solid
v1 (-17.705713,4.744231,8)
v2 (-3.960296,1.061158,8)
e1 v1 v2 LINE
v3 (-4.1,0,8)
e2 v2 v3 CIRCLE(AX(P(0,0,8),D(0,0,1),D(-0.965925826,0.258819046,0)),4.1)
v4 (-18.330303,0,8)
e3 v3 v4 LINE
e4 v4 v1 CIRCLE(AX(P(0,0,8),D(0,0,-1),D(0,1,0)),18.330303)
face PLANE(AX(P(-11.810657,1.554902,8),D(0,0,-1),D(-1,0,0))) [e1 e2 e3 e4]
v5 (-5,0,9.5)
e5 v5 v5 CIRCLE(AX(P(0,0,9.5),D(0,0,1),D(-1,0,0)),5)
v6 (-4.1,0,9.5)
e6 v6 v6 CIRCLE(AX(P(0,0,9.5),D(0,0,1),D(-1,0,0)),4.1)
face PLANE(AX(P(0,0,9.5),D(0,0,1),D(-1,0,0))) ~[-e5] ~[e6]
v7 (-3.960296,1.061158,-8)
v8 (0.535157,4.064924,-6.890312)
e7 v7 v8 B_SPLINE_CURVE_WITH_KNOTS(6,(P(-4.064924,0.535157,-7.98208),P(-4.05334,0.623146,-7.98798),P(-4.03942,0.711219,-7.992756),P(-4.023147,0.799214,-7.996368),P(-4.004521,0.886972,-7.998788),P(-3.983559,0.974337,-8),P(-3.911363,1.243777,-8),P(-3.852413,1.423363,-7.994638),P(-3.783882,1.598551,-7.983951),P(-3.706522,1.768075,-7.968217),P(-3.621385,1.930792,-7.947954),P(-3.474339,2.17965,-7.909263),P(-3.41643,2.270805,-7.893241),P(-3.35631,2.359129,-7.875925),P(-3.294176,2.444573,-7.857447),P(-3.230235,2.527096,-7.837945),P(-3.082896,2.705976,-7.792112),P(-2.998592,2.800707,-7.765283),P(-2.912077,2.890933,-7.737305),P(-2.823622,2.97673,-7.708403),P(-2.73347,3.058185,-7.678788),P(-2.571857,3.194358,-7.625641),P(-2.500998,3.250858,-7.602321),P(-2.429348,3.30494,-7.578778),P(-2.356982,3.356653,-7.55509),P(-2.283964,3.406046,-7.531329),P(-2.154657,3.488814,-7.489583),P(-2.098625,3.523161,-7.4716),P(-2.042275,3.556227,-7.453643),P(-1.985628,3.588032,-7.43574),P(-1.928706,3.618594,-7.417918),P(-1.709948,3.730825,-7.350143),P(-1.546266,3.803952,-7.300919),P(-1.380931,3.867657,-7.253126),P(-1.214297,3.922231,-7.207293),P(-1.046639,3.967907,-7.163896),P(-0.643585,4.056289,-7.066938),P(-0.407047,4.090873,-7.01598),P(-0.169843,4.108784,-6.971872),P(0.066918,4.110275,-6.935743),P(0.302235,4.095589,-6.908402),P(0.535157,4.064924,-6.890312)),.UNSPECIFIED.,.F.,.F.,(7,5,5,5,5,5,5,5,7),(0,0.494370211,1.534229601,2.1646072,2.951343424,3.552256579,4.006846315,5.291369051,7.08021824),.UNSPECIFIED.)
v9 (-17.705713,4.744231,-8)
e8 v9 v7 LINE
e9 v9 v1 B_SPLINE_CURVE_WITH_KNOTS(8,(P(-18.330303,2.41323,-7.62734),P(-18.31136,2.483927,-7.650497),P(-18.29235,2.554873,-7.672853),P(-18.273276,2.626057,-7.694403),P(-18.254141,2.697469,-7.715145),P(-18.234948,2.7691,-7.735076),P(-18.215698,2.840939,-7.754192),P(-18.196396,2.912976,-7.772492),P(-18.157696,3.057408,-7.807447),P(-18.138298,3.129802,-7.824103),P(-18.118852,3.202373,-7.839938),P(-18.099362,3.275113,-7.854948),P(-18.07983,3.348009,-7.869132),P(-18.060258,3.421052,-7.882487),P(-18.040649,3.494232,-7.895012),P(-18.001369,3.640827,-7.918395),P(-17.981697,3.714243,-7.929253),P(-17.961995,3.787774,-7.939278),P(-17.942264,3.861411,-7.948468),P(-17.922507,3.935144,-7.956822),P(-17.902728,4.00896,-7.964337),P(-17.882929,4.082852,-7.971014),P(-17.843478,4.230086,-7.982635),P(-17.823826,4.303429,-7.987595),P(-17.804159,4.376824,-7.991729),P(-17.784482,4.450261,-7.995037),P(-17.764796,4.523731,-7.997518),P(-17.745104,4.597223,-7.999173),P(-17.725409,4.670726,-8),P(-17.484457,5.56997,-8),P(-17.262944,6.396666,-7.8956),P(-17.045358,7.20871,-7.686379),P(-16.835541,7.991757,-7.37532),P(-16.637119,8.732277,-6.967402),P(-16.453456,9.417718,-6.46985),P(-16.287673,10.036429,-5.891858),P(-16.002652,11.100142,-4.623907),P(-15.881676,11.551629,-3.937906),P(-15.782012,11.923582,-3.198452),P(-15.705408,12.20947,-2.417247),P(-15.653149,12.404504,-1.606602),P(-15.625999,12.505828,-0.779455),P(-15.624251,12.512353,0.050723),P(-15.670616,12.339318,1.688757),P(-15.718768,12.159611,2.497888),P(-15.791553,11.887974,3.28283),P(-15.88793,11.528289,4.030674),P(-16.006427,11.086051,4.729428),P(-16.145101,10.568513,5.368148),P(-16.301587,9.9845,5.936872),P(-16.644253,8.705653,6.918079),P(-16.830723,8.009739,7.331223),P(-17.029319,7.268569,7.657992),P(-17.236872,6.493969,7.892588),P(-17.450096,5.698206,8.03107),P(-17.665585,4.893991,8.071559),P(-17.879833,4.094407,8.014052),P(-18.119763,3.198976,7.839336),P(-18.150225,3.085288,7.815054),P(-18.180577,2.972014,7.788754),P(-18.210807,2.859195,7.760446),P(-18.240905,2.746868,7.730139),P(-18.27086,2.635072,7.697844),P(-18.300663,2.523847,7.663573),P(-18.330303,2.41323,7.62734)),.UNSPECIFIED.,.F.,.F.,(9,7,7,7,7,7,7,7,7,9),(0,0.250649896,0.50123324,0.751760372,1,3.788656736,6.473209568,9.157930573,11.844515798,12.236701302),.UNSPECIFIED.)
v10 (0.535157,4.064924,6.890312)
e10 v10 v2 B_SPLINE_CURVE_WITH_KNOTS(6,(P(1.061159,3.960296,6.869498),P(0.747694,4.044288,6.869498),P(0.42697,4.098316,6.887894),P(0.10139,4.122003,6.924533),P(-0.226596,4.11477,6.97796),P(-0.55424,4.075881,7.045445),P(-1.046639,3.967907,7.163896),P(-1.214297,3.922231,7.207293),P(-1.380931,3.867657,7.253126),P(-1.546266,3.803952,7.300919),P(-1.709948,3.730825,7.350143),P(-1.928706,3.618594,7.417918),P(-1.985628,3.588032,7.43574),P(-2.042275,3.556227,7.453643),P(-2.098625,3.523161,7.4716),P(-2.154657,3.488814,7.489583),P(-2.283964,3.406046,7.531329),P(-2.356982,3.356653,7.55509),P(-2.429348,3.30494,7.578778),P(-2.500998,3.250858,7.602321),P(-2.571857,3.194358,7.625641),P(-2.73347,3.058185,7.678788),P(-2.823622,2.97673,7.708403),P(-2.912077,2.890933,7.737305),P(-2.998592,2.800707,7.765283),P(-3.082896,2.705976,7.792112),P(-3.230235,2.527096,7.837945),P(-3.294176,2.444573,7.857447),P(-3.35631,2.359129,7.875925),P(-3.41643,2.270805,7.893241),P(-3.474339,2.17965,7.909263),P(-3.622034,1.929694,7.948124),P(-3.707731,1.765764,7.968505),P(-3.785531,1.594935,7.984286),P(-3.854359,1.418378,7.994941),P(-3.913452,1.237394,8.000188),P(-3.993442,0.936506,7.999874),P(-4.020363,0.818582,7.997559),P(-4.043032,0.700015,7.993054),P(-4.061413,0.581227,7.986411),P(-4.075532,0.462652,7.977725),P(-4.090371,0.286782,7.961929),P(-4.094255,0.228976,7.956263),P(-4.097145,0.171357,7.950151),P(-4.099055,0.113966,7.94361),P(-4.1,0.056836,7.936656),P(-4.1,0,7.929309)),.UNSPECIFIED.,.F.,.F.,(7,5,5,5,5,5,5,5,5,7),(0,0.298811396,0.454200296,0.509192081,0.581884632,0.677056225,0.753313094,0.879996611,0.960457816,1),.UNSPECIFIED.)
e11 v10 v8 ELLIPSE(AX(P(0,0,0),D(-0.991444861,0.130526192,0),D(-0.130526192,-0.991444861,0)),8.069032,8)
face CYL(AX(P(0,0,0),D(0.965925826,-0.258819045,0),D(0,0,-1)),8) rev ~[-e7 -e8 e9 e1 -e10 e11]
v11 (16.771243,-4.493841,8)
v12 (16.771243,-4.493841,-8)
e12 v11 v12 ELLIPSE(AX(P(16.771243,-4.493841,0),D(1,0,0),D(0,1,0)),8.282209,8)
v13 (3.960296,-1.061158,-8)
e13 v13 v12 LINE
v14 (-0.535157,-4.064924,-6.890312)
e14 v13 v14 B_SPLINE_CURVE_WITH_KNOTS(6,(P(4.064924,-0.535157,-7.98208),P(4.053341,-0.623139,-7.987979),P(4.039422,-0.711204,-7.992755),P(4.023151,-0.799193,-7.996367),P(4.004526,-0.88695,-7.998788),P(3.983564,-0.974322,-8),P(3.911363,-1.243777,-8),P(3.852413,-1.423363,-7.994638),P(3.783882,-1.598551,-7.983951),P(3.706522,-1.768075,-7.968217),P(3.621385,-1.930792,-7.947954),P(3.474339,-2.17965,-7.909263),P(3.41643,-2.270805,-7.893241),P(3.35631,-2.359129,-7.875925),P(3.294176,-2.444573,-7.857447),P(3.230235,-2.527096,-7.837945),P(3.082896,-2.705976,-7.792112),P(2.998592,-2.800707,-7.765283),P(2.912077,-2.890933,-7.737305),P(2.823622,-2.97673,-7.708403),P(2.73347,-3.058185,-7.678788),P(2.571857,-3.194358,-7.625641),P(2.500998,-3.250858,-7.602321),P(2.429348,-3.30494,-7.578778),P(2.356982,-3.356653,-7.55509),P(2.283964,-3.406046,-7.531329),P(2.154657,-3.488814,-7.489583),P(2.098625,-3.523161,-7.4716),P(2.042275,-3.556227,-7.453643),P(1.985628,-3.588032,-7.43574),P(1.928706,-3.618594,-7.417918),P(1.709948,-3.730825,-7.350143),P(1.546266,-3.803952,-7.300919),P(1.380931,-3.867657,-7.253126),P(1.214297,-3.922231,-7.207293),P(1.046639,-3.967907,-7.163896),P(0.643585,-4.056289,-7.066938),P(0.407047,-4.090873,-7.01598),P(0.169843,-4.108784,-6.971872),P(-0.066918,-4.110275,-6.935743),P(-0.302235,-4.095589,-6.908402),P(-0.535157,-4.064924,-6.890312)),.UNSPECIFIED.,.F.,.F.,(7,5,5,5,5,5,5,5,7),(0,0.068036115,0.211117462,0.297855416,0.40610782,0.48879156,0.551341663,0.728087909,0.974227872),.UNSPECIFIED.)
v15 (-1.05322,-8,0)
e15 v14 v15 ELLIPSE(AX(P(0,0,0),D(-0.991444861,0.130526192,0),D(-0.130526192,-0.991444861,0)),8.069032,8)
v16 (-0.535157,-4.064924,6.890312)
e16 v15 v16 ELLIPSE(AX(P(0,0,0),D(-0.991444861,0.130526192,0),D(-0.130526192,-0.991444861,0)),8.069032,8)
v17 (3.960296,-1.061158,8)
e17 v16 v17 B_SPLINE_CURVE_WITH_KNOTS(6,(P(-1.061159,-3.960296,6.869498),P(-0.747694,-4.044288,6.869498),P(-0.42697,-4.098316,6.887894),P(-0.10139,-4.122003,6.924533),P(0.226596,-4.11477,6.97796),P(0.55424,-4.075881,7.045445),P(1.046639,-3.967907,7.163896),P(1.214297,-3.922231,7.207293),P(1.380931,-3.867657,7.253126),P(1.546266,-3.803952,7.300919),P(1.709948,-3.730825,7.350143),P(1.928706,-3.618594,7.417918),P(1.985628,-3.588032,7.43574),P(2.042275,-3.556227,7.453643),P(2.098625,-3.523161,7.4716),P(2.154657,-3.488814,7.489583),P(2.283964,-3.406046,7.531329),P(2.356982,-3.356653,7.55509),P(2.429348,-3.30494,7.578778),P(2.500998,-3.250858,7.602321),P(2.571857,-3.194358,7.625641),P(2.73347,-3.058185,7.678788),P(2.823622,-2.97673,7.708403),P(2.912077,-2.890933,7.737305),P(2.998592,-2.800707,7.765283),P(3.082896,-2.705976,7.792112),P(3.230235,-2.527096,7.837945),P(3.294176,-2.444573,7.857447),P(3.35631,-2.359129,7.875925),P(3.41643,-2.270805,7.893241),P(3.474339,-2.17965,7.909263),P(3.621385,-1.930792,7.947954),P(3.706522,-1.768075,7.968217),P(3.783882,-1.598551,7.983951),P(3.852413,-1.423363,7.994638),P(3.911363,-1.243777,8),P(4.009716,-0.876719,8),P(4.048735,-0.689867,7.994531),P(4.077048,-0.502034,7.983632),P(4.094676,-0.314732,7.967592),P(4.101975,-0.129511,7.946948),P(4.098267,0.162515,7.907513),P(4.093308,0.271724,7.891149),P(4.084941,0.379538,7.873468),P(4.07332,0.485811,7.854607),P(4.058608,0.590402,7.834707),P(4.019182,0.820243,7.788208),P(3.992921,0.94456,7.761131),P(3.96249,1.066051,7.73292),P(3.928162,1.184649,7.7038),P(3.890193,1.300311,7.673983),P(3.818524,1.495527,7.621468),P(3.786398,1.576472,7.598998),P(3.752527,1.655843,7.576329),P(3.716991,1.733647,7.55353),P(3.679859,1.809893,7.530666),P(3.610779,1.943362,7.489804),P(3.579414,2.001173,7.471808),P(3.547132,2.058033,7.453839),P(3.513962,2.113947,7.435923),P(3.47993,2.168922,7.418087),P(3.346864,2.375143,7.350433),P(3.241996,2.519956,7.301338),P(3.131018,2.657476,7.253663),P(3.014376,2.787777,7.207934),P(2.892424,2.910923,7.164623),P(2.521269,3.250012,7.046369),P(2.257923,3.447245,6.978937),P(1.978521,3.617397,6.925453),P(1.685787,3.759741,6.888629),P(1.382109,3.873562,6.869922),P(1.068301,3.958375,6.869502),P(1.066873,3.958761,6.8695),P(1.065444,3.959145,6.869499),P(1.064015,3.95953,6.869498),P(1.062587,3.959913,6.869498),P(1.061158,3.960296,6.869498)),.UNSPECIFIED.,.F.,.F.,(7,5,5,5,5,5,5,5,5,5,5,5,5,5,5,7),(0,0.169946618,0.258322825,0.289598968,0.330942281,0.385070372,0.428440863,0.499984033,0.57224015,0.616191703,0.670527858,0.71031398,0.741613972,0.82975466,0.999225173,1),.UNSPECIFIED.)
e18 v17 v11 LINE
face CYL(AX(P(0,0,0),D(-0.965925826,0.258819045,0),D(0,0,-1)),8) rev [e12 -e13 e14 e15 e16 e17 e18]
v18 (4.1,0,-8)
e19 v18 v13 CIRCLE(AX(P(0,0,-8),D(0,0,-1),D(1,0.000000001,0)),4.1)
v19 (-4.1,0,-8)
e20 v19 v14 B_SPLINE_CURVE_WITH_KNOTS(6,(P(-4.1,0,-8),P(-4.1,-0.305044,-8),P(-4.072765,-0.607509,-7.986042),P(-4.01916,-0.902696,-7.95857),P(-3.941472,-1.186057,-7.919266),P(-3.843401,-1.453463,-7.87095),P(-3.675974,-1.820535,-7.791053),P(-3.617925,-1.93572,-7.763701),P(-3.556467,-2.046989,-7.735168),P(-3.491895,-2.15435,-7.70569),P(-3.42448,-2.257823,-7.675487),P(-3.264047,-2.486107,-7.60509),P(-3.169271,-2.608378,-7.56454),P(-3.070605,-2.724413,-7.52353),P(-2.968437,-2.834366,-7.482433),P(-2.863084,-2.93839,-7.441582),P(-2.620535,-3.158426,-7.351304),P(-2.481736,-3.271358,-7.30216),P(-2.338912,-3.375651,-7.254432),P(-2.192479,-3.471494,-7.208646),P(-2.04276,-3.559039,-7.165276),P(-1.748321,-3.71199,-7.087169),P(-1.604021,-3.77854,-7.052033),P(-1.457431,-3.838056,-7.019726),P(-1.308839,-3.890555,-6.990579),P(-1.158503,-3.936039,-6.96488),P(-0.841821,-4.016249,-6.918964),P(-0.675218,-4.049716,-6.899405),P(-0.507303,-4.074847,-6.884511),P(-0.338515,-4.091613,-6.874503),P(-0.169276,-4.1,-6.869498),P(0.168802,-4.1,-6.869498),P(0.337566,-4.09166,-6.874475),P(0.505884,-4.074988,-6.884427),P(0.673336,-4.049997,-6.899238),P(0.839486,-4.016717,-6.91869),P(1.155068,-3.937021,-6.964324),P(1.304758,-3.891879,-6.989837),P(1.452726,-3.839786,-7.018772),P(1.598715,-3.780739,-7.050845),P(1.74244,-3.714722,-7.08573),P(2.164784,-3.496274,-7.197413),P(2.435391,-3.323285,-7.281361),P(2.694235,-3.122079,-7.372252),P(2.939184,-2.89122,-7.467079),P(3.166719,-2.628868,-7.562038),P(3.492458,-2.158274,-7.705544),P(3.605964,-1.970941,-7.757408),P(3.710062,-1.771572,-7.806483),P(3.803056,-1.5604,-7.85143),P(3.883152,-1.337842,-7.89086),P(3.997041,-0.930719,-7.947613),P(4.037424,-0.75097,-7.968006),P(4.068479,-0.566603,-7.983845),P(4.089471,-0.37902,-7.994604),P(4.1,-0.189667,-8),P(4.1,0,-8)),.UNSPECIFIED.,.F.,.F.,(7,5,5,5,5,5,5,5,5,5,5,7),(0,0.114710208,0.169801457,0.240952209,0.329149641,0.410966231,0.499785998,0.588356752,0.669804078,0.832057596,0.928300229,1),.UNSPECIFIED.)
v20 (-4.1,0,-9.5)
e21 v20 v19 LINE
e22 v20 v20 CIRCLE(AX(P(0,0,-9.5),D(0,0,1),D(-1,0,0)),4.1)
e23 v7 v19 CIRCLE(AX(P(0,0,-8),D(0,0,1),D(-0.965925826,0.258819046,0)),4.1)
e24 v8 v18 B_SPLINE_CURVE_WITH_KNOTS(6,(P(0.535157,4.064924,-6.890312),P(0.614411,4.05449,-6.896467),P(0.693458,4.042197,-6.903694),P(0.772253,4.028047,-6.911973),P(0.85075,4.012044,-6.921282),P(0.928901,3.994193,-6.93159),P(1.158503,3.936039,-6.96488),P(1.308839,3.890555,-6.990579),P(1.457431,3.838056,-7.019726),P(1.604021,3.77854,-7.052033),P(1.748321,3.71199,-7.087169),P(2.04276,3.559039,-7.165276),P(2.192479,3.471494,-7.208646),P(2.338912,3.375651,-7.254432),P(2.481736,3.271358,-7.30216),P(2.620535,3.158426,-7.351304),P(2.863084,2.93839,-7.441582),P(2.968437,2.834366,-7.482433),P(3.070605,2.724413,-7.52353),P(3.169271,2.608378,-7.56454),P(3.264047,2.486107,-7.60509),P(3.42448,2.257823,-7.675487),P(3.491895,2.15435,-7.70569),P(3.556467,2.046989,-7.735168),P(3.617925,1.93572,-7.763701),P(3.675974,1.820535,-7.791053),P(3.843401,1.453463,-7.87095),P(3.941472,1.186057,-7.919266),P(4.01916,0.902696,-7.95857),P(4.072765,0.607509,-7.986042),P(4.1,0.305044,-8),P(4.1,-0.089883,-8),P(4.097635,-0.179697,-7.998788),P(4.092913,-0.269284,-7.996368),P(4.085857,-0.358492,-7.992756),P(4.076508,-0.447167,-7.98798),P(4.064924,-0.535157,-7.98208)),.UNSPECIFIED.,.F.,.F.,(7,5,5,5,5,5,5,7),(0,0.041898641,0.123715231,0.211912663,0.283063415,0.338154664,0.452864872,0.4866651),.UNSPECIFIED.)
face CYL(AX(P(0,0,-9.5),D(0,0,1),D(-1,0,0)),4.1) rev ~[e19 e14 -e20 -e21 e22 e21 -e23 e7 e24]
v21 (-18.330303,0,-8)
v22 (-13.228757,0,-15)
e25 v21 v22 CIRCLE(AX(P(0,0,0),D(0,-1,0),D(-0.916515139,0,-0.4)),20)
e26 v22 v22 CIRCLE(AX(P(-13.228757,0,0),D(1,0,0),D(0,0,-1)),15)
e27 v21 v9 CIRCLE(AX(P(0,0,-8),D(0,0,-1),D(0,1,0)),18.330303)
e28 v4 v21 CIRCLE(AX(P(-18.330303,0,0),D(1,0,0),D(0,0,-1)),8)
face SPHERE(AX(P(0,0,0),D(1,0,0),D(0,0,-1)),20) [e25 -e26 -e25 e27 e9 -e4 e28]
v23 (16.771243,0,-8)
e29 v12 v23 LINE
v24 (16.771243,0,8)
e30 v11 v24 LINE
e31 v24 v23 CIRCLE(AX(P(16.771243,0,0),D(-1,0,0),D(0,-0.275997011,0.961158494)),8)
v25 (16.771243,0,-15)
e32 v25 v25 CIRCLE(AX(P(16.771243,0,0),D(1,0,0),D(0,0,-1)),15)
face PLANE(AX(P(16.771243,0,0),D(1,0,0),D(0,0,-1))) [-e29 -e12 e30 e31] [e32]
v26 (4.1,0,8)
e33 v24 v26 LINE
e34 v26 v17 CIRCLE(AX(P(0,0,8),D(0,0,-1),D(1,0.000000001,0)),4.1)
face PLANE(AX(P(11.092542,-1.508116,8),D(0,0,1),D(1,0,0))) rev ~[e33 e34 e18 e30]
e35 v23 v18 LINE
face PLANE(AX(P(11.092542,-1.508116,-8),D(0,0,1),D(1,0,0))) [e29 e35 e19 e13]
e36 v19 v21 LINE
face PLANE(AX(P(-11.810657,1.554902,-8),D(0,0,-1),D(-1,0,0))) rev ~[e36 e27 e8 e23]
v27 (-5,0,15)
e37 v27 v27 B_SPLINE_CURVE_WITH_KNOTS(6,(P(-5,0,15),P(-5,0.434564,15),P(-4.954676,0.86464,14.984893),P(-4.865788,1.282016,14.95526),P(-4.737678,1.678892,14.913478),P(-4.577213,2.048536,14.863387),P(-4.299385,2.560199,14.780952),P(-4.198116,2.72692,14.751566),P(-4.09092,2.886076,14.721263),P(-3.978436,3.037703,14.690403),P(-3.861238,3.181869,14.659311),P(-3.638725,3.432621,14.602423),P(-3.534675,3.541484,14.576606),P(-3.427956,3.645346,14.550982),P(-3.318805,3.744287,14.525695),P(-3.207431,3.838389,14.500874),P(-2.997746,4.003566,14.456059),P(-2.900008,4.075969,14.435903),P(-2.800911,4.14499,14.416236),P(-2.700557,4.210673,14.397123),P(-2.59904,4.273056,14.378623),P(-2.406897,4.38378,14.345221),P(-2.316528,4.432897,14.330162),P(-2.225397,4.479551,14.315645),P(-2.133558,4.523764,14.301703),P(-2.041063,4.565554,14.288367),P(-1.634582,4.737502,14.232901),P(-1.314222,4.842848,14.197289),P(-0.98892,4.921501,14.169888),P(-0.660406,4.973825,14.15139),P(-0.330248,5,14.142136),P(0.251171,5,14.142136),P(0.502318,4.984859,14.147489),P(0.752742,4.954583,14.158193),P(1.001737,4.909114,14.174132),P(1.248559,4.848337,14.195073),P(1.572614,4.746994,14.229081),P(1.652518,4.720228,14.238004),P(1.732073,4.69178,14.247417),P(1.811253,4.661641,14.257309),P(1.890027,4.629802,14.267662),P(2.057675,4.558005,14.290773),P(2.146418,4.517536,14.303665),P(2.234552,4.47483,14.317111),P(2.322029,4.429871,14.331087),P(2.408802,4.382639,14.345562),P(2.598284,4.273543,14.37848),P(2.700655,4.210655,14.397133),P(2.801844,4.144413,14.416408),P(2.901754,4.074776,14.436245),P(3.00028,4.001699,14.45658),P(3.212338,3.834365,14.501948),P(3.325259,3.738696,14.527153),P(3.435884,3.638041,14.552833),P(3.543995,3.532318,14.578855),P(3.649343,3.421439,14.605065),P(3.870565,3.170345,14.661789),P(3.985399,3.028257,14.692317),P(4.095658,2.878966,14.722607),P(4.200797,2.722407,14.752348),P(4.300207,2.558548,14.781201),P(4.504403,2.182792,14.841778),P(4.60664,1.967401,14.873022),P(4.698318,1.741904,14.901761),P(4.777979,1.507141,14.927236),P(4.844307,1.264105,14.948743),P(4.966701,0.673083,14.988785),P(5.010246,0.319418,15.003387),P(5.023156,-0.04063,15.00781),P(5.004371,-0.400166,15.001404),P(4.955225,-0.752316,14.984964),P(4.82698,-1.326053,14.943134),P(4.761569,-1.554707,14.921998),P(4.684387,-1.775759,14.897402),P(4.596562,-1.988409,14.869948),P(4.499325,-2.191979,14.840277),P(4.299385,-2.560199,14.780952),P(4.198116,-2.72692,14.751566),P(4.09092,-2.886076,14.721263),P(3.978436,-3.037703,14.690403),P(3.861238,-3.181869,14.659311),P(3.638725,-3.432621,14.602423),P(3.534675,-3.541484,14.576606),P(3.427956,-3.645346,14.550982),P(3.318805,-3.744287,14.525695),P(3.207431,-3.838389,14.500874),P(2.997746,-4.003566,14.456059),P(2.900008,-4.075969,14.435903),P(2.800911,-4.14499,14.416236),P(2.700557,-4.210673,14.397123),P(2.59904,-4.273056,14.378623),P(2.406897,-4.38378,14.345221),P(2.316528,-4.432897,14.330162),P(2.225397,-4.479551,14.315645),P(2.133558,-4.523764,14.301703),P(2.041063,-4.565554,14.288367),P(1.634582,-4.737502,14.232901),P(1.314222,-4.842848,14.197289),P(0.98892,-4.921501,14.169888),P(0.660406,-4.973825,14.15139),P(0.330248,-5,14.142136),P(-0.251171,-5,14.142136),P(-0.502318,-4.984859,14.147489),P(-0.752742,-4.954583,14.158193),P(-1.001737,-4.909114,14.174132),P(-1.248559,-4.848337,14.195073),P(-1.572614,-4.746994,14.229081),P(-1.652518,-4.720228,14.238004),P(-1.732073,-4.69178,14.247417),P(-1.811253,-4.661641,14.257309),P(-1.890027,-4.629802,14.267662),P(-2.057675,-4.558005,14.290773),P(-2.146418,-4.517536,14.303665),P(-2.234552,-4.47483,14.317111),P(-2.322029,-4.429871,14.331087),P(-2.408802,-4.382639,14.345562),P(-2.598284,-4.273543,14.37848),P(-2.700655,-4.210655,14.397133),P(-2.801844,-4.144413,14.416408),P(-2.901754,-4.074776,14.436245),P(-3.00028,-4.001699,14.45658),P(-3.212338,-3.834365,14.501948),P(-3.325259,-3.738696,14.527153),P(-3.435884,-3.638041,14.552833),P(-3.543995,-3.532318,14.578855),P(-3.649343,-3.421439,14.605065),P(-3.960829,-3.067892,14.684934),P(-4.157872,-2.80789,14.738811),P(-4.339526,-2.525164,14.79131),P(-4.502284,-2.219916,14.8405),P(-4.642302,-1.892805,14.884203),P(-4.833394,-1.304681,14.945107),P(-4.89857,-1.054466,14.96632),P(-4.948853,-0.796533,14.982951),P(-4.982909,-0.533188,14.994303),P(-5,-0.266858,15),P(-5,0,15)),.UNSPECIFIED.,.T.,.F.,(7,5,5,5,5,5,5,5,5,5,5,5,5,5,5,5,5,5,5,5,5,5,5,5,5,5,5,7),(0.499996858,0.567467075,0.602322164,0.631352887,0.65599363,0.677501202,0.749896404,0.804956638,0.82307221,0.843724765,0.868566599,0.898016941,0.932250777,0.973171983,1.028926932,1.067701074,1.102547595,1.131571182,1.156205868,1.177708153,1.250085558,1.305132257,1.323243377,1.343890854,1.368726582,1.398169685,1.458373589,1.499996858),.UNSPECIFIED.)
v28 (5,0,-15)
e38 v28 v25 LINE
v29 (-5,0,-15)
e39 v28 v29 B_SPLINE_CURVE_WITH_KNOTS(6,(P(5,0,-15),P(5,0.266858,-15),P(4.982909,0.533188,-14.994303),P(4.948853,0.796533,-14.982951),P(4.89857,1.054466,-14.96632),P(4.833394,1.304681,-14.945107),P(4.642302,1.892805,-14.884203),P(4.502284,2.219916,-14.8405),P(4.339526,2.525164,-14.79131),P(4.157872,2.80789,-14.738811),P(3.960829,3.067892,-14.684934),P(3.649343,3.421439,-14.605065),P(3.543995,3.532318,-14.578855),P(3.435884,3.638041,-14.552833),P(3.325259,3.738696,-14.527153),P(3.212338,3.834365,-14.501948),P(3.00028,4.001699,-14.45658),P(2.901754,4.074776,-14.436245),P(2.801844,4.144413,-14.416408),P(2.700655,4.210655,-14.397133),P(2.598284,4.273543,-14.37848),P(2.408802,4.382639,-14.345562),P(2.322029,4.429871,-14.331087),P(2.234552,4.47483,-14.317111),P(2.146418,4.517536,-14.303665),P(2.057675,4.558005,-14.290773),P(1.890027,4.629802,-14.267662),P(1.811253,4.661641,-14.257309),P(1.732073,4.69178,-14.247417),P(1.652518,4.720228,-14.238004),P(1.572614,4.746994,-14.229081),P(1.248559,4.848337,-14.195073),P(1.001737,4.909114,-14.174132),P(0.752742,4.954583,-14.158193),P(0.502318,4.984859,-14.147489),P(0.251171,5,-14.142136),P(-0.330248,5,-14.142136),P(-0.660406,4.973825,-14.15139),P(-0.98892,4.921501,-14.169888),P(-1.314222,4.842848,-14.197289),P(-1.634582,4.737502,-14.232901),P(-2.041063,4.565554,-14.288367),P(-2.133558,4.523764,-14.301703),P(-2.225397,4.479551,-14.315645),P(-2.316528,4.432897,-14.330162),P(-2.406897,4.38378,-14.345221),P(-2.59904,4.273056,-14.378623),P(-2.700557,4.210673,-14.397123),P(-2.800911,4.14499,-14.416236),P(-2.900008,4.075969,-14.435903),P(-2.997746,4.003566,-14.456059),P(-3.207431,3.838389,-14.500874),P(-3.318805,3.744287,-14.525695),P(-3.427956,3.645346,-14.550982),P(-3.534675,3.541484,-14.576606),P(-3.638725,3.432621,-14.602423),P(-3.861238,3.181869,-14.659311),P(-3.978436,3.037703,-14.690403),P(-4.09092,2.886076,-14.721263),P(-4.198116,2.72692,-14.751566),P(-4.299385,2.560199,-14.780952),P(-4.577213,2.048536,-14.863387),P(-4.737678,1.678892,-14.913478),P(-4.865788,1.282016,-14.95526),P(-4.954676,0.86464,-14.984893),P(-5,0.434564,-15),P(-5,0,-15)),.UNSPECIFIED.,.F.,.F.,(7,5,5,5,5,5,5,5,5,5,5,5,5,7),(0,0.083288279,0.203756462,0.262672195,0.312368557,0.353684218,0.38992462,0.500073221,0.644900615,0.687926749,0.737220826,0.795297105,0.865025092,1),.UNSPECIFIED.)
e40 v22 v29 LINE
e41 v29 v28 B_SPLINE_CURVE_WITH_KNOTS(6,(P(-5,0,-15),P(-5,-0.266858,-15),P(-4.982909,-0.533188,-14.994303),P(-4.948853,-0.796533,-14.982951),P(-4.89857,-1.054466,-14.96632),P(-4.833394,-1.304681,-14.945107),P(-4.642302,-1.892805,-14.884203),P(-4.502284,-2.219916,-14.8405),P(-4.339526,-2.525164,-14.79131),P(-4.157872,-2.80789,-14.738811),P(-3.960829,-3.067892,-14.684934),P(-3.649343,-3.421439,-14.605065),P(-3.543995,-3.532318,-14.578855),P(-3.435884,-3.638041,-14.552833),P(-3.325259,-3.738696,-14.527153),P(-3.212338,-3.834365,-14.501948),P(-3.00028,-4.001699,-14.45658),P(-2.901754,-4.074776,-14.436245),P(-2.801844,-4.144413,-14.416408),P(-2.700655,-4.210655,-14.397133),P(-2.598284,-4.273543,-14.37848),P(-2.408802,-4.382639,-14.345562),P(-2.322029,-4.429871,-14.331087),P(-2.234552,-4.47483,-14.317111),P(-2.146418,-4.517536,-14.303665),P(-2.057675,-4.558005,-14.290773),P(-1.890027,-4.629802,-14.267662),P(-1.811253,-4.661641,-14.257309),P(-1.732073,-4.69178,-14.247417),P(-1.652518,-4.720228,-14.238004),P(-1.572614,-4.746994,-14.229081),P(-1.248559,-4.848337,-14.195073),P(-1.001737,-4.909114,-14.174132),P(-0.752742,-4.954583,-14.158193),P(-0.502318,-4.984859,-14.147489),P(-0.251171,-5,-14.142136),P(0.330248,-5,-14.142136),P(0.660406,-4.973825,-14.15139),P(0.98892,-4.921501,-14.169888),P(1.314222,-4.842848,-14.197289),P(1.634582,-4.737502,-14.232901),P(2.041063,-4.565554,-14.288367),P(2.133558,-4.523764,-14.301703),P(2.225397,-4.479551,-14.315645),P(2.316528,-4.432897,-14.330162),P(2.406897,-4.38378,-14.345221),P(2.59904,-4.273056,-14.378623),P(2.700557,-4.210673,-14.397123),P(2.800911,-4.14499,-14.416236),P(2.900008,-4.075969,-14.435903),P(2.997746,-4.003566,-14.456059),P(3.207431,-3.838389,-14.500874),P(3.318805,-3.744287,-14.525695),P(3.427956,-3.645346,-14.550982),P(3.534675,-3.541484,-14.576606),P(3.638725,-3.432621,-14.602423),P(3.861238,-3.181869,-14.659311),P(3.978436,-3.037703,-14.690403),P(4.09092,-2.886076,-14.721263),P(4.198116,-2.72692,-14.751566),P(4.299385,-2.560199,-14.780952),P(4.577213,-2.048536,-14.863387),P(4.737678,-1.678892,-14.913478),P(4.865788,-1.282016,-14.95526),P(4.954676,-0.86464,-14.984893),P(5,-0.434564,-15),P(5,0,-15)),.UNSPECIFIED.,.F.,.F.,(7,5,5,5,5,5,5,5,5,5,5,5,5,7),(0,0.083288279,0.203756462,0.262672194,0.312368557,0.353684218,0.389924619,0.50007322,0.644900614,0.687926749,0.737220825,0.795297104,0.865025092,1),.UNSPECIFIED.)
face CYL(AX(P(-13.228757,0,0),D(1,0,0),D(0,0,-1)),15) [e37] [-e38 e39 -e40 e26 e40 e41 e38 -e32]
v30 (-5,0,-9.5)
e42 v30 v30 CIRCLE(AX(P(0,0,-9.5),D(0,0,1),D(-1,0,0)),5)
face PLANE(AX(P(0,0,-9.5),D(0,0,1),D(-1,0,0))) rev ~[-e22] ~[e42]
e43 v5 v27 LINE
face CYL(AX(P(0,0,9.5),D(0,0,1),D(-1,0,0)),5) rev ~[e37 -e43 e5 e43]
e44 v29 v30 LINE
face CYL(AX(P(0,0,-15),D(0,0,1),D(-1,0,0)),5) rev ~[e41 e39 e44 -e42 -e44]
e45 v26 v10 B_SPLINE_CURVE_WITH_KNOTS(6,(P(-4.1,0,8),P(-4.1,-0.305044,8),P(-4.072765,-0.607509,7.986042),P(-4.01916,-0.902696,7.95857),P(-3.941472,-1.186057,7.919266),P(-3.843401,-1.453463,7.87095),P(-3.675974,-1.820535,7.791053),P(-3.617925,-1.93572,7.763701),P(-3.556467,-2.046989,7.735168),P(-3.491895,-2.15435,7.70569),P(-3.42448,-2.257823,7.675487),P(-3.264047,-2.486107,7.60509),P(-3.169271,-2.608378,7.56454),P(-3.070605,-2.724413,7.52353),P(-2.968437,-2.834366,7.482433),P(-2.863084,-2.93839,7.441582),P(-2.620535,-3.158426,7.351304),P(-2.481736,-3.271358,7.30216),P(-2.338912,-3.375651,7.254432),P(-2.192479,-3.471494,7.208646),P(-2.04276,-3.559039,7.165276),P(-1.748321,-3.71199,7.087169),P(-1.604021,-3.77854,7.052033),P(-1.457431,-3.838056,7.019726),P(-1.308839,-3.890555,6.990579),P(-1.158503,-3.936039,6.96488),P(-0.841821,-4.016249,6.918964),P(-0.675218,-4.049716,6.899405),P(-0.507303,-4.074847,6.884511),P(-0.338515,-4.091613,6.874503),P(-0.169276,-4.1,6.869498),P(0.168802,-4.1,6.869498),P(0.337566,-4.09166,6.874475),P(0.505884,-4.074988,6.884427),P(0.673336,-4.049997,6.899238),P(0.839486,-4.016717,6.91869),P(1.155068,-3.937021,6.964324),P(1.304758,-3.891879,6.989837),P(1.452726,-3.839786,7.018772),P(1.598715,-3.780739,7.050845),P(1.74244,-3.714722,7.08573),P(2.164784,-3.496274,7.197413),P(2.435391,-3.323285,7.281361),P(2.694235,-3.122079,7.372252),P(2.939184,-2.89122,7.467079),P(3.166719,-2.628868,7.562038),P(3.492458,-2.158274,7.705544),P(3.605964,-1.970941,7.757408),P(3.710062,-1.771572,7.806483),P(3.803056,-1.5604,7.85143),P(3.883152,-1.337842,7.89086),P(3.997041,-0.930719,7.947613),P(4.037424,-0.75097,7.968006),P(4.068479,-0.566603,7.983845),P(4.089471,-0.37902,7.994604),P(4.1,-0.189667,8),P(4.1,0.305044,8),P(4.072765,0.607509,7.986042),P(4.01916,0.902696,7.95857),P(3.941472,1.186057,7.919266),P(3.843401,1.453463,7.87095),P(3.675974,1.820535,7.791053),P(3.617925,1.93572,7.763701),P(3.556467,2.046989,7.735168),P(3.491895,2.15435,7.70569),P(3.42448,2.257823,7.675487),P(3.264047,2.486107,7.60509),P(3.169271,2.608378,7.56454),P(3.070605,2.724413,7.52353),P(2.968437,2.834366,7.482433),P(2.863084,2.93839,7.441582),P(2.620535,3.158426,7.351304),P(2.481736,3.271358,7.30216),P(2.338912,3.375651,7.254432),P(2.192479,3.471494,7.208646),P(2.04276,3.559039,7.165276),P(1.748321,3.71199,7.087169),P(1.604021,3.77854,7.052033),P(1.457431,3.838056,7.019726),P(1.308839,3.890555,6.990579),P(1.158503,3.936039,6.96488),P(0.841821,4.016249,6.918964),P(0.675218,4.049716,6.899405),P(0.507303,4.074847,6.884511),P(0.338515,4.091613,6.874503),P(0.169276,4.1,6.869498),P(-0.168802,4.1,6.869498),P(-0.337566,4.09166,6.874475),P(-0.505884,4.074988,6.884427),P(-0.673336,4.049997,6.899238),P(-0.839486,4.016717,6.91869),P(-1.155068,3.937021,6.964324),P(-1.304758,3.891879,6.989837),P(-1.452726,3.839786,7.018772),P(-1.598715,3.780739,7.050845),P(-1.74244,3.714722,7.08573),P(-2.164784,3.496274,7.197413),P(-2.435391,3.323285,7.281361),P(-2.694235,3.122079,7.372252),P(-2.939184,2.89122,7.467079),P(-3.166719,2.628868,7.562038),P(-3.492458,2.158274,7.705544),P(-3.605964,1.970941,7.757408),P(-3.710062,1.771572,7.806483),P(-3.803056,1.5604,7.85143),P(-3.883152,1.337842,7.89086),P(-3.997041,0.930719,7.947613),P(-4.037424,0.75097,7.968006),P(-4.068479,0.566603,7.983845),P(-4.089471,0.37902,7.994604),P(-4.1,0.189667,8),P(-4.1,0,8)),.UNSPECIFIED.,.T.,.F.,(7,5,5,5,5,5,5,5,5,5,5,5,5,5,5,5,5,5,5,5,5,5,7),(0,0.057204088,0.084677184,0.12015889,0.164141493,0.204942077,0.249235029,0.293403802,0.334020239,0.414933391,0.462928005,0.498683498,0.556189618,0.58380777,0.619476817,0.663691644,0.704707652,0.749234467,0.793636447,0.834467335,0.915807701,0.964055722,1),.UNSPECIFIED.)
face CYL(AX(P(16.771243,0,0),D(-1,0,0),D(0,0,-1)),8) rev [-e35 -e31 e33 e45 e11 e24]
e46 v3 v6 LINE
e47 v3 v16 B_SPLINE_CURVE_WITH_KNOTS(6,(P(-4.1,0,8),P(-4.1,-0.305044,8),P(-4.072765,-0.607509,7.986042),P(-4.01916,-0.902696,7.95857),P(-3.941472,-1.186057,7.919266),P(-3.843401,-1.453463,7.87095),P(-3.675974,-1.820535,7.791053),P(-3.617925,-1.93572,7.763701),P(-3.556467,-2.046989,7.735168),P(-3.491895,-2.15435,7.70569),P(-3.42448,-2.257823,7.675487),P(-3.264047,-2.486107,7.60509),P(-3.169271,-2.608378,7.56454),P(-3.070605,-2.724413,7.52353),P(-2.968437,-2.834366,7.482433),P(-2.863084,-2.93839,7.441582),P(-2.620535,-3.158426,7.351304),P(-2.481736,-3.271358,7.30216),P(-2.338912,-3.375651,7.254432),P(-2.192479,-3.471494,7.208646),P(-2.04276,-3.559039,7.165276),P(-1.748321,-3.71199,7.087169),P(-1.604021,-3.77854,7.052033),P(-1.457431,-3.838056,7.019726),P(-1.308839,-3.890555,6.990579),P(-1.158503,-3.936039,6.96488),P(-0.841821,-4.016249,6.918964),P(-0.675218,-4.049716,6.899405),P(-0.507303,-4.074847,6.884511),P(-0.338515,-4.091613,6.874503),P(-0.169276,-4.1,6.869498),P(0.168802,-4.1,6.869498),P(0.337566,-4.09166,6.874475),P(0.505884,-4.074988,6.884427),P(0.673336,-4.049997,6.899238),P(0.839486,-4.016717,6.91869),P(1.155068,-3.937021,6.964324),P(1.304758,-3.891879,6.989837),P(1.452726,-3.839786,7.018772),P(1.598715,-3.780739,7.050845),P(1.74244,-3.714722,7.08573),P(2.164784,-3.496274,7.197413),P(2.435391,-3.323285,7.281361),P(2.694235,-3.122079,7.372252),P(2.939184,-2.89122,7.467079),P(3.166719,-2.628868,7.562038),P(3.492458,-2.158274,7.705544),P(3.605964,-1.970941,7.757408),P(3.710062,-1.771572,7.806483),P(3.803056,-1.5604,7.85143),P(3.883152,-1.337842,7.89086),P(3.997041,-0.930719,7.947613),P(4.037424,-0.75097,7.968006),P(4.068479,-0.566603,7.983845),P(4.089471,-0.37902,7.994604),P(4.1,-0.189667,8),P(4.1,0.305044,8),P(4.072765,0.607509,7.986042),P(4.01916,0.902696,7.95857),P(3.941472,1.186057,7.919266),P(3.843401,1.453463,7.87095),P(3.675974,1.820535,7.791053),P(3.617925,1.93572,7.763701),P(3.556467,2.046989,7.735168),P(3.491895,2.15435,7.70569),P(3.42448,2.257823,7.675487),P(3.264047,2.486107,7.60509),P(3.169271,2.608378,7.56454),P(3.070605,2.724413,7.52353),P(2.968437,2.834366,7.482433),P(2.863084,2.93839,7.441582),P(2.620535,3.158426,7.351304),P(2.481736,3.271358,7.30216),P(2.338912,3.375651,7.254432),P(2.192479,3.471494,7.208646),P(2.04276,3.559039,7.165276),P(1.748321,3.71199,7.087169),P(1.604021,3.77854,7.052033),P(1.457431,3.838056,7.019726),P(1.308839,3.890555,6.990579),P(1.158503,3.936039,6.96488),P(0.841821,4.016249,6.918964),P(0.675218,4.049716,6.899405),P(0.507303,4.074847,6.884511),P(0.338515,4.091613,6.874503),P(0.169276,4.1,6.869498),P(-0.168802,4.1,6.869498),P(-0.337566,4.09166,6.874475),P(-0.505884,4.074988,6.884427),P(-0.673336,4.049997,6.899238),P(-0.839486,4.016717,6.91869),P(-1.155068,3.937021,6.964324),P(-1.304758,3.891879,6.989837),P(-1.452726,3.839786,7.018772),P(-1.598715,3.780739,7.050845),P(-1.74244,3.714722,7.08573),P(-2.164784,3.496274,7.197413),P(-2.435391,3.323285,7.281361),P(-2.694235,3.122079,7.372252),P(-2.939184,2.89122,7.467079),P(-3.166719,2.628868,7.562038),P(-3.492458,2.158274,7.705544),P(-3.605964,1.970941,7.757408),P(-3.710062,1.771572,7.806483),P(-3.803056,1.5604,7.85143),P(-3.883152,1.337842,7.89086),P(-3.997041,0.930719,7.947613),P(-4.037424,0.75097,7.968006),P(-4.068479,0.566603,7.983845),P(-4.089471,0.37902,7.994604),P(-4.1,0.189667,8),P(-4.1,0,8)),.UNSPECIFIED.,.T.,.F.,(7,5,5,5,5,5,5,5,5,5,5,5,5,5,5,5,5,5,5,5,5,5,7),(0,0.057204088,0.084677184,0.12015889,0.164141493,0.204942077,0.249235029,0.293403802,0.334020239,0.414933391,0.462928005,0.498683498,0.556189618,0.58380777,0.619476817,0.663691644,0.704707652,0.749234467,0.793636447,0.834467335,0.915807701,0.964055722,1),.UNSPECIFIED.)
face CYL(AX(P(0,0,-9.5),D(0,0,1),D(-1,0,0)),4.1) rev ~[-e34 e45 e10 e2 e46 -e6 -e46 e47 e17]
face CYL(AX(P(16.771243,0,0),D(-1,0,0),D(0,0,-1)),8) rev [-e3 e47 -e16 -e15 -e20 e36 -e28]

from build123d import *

# Parameters (mm, degrees)
SCHNITT_LINEAR_AUSTRAGEN1_DEPTH      = 29.03569171
SCHNITT_LINEAR_AUSTRAGEN1_DEPTH_BACK = 29.03569171
SKIZZE8_R                            = 8
SCHNITT_LINEAR_AUSTRAGEN2_DEPTH      = 8
SCHNITT_LINEAR_AUSTRAGEN2_DEPTH_BACK = 8


with BuildPart() as part:
    # Skizze4 → Rotation1 (revolve)
    with BuildSketch(Plane(origin=(0, 0, 0), x_dir=(1, 0, 0), z_dir=(0, 1, 0))):
        with BuildLine():
            Line((-13.228756555, 15), (16.771243445, 15))
            Line((16.771243445, 15), (16.771243445, 8))
            Line((16.771243445, 8), (-18.33030278, 8))
            ThreePointArc((-18.33030278, 8), (-16.163030549, 11.779492496), (-13.228756555, 15))
        make_face()
    revolve(axis=Axis((-20, 0, 0), (1, 0, 0)))

    # Skizze6 → Schnitt-Rotation1 (revolve, cut)
    with BuildSketch(Plane(origin=(0, 0, 0), x_dir=(1, 0, 0), z_dir=(0, 1, 0))):
        Polygon((-4.1, 9.5), (-4.1, -9.5), (-5, -9.5), (-5, -15), (0, -15), (0, 15), (-5, 15), (-5, 9.5), align=None)
    revolve(axis=Axis((0, 0, -15), (0, 0, 1)), mode=Mode.SUBTRACT)

    # Skizze8 → Schnitt-Linear austragen1 (cut, two sides: drawn at the far end of the back side and taken through both)
    with BuildSketch(Plane(origin=(0, 0, 0), x_dir=(0, 0, -1), z_dir=(0.9659258262890682, -0.25881904510252124, 0)).offset(-SCHNITT_LINEAR_AUSTRAGEN1_DEPTH_BACK)):
        Circle(SKIZZE8_R)
    extrude(amount=SCHNITT_LINEAR_AUSTRAGEN1_DEPTH + SCHNITT_LINEAR_AUSTRAGEN1_DEPTH_BACK, mode=Mode.SUBTRACT)

    # Skizze9 → Schnitt-Linear austragen2 (cut, two sides: drawn at the far end of the back side and taken through both)
    with BuildSketch(Plane.XY.offset(-SCHNITT_LINEAR_AUSTRAGEN2_DEPTH_BACK)):
        with BuildLine():
            Line((-17.705712859, 4.744231462), (-3.960295888, 1.061158085))
            ThreePointArc((-3.960295888, 1.061158085), (-4.064923932, 0.535157388), (-4.1, 0))
            Line((-4.1, 0), (-18.33030278, 0))
            Line((-18.33030278, 0), (-18.33030278, 2.413230142))
            Line((-18.33030278, 2.413230142), (-17.705712859, 4.744231462))
        make_face()
        with BuildLine():
            Line((16.771243445, -4.493841137), (16.771243445, 0))
            Line((16.771243445, 0), (4.1, 0))
            ThreePointArc((4.1, 0), (4.064923932, -0.535157388), (3.960295888, -1.061158085))
            Line((3.960295888, -1.061158085), (16.771243445, -4.493841137))
        make_face()
    extrude(amount=SCHNITT_LINEAR_AUSTRAGEN2_DEPTH + SCHNITT_LINEAR_AUSTRAGEN2_DEPTH_BACK, mode=Mode.SUBTRACT)


solid = part.part
